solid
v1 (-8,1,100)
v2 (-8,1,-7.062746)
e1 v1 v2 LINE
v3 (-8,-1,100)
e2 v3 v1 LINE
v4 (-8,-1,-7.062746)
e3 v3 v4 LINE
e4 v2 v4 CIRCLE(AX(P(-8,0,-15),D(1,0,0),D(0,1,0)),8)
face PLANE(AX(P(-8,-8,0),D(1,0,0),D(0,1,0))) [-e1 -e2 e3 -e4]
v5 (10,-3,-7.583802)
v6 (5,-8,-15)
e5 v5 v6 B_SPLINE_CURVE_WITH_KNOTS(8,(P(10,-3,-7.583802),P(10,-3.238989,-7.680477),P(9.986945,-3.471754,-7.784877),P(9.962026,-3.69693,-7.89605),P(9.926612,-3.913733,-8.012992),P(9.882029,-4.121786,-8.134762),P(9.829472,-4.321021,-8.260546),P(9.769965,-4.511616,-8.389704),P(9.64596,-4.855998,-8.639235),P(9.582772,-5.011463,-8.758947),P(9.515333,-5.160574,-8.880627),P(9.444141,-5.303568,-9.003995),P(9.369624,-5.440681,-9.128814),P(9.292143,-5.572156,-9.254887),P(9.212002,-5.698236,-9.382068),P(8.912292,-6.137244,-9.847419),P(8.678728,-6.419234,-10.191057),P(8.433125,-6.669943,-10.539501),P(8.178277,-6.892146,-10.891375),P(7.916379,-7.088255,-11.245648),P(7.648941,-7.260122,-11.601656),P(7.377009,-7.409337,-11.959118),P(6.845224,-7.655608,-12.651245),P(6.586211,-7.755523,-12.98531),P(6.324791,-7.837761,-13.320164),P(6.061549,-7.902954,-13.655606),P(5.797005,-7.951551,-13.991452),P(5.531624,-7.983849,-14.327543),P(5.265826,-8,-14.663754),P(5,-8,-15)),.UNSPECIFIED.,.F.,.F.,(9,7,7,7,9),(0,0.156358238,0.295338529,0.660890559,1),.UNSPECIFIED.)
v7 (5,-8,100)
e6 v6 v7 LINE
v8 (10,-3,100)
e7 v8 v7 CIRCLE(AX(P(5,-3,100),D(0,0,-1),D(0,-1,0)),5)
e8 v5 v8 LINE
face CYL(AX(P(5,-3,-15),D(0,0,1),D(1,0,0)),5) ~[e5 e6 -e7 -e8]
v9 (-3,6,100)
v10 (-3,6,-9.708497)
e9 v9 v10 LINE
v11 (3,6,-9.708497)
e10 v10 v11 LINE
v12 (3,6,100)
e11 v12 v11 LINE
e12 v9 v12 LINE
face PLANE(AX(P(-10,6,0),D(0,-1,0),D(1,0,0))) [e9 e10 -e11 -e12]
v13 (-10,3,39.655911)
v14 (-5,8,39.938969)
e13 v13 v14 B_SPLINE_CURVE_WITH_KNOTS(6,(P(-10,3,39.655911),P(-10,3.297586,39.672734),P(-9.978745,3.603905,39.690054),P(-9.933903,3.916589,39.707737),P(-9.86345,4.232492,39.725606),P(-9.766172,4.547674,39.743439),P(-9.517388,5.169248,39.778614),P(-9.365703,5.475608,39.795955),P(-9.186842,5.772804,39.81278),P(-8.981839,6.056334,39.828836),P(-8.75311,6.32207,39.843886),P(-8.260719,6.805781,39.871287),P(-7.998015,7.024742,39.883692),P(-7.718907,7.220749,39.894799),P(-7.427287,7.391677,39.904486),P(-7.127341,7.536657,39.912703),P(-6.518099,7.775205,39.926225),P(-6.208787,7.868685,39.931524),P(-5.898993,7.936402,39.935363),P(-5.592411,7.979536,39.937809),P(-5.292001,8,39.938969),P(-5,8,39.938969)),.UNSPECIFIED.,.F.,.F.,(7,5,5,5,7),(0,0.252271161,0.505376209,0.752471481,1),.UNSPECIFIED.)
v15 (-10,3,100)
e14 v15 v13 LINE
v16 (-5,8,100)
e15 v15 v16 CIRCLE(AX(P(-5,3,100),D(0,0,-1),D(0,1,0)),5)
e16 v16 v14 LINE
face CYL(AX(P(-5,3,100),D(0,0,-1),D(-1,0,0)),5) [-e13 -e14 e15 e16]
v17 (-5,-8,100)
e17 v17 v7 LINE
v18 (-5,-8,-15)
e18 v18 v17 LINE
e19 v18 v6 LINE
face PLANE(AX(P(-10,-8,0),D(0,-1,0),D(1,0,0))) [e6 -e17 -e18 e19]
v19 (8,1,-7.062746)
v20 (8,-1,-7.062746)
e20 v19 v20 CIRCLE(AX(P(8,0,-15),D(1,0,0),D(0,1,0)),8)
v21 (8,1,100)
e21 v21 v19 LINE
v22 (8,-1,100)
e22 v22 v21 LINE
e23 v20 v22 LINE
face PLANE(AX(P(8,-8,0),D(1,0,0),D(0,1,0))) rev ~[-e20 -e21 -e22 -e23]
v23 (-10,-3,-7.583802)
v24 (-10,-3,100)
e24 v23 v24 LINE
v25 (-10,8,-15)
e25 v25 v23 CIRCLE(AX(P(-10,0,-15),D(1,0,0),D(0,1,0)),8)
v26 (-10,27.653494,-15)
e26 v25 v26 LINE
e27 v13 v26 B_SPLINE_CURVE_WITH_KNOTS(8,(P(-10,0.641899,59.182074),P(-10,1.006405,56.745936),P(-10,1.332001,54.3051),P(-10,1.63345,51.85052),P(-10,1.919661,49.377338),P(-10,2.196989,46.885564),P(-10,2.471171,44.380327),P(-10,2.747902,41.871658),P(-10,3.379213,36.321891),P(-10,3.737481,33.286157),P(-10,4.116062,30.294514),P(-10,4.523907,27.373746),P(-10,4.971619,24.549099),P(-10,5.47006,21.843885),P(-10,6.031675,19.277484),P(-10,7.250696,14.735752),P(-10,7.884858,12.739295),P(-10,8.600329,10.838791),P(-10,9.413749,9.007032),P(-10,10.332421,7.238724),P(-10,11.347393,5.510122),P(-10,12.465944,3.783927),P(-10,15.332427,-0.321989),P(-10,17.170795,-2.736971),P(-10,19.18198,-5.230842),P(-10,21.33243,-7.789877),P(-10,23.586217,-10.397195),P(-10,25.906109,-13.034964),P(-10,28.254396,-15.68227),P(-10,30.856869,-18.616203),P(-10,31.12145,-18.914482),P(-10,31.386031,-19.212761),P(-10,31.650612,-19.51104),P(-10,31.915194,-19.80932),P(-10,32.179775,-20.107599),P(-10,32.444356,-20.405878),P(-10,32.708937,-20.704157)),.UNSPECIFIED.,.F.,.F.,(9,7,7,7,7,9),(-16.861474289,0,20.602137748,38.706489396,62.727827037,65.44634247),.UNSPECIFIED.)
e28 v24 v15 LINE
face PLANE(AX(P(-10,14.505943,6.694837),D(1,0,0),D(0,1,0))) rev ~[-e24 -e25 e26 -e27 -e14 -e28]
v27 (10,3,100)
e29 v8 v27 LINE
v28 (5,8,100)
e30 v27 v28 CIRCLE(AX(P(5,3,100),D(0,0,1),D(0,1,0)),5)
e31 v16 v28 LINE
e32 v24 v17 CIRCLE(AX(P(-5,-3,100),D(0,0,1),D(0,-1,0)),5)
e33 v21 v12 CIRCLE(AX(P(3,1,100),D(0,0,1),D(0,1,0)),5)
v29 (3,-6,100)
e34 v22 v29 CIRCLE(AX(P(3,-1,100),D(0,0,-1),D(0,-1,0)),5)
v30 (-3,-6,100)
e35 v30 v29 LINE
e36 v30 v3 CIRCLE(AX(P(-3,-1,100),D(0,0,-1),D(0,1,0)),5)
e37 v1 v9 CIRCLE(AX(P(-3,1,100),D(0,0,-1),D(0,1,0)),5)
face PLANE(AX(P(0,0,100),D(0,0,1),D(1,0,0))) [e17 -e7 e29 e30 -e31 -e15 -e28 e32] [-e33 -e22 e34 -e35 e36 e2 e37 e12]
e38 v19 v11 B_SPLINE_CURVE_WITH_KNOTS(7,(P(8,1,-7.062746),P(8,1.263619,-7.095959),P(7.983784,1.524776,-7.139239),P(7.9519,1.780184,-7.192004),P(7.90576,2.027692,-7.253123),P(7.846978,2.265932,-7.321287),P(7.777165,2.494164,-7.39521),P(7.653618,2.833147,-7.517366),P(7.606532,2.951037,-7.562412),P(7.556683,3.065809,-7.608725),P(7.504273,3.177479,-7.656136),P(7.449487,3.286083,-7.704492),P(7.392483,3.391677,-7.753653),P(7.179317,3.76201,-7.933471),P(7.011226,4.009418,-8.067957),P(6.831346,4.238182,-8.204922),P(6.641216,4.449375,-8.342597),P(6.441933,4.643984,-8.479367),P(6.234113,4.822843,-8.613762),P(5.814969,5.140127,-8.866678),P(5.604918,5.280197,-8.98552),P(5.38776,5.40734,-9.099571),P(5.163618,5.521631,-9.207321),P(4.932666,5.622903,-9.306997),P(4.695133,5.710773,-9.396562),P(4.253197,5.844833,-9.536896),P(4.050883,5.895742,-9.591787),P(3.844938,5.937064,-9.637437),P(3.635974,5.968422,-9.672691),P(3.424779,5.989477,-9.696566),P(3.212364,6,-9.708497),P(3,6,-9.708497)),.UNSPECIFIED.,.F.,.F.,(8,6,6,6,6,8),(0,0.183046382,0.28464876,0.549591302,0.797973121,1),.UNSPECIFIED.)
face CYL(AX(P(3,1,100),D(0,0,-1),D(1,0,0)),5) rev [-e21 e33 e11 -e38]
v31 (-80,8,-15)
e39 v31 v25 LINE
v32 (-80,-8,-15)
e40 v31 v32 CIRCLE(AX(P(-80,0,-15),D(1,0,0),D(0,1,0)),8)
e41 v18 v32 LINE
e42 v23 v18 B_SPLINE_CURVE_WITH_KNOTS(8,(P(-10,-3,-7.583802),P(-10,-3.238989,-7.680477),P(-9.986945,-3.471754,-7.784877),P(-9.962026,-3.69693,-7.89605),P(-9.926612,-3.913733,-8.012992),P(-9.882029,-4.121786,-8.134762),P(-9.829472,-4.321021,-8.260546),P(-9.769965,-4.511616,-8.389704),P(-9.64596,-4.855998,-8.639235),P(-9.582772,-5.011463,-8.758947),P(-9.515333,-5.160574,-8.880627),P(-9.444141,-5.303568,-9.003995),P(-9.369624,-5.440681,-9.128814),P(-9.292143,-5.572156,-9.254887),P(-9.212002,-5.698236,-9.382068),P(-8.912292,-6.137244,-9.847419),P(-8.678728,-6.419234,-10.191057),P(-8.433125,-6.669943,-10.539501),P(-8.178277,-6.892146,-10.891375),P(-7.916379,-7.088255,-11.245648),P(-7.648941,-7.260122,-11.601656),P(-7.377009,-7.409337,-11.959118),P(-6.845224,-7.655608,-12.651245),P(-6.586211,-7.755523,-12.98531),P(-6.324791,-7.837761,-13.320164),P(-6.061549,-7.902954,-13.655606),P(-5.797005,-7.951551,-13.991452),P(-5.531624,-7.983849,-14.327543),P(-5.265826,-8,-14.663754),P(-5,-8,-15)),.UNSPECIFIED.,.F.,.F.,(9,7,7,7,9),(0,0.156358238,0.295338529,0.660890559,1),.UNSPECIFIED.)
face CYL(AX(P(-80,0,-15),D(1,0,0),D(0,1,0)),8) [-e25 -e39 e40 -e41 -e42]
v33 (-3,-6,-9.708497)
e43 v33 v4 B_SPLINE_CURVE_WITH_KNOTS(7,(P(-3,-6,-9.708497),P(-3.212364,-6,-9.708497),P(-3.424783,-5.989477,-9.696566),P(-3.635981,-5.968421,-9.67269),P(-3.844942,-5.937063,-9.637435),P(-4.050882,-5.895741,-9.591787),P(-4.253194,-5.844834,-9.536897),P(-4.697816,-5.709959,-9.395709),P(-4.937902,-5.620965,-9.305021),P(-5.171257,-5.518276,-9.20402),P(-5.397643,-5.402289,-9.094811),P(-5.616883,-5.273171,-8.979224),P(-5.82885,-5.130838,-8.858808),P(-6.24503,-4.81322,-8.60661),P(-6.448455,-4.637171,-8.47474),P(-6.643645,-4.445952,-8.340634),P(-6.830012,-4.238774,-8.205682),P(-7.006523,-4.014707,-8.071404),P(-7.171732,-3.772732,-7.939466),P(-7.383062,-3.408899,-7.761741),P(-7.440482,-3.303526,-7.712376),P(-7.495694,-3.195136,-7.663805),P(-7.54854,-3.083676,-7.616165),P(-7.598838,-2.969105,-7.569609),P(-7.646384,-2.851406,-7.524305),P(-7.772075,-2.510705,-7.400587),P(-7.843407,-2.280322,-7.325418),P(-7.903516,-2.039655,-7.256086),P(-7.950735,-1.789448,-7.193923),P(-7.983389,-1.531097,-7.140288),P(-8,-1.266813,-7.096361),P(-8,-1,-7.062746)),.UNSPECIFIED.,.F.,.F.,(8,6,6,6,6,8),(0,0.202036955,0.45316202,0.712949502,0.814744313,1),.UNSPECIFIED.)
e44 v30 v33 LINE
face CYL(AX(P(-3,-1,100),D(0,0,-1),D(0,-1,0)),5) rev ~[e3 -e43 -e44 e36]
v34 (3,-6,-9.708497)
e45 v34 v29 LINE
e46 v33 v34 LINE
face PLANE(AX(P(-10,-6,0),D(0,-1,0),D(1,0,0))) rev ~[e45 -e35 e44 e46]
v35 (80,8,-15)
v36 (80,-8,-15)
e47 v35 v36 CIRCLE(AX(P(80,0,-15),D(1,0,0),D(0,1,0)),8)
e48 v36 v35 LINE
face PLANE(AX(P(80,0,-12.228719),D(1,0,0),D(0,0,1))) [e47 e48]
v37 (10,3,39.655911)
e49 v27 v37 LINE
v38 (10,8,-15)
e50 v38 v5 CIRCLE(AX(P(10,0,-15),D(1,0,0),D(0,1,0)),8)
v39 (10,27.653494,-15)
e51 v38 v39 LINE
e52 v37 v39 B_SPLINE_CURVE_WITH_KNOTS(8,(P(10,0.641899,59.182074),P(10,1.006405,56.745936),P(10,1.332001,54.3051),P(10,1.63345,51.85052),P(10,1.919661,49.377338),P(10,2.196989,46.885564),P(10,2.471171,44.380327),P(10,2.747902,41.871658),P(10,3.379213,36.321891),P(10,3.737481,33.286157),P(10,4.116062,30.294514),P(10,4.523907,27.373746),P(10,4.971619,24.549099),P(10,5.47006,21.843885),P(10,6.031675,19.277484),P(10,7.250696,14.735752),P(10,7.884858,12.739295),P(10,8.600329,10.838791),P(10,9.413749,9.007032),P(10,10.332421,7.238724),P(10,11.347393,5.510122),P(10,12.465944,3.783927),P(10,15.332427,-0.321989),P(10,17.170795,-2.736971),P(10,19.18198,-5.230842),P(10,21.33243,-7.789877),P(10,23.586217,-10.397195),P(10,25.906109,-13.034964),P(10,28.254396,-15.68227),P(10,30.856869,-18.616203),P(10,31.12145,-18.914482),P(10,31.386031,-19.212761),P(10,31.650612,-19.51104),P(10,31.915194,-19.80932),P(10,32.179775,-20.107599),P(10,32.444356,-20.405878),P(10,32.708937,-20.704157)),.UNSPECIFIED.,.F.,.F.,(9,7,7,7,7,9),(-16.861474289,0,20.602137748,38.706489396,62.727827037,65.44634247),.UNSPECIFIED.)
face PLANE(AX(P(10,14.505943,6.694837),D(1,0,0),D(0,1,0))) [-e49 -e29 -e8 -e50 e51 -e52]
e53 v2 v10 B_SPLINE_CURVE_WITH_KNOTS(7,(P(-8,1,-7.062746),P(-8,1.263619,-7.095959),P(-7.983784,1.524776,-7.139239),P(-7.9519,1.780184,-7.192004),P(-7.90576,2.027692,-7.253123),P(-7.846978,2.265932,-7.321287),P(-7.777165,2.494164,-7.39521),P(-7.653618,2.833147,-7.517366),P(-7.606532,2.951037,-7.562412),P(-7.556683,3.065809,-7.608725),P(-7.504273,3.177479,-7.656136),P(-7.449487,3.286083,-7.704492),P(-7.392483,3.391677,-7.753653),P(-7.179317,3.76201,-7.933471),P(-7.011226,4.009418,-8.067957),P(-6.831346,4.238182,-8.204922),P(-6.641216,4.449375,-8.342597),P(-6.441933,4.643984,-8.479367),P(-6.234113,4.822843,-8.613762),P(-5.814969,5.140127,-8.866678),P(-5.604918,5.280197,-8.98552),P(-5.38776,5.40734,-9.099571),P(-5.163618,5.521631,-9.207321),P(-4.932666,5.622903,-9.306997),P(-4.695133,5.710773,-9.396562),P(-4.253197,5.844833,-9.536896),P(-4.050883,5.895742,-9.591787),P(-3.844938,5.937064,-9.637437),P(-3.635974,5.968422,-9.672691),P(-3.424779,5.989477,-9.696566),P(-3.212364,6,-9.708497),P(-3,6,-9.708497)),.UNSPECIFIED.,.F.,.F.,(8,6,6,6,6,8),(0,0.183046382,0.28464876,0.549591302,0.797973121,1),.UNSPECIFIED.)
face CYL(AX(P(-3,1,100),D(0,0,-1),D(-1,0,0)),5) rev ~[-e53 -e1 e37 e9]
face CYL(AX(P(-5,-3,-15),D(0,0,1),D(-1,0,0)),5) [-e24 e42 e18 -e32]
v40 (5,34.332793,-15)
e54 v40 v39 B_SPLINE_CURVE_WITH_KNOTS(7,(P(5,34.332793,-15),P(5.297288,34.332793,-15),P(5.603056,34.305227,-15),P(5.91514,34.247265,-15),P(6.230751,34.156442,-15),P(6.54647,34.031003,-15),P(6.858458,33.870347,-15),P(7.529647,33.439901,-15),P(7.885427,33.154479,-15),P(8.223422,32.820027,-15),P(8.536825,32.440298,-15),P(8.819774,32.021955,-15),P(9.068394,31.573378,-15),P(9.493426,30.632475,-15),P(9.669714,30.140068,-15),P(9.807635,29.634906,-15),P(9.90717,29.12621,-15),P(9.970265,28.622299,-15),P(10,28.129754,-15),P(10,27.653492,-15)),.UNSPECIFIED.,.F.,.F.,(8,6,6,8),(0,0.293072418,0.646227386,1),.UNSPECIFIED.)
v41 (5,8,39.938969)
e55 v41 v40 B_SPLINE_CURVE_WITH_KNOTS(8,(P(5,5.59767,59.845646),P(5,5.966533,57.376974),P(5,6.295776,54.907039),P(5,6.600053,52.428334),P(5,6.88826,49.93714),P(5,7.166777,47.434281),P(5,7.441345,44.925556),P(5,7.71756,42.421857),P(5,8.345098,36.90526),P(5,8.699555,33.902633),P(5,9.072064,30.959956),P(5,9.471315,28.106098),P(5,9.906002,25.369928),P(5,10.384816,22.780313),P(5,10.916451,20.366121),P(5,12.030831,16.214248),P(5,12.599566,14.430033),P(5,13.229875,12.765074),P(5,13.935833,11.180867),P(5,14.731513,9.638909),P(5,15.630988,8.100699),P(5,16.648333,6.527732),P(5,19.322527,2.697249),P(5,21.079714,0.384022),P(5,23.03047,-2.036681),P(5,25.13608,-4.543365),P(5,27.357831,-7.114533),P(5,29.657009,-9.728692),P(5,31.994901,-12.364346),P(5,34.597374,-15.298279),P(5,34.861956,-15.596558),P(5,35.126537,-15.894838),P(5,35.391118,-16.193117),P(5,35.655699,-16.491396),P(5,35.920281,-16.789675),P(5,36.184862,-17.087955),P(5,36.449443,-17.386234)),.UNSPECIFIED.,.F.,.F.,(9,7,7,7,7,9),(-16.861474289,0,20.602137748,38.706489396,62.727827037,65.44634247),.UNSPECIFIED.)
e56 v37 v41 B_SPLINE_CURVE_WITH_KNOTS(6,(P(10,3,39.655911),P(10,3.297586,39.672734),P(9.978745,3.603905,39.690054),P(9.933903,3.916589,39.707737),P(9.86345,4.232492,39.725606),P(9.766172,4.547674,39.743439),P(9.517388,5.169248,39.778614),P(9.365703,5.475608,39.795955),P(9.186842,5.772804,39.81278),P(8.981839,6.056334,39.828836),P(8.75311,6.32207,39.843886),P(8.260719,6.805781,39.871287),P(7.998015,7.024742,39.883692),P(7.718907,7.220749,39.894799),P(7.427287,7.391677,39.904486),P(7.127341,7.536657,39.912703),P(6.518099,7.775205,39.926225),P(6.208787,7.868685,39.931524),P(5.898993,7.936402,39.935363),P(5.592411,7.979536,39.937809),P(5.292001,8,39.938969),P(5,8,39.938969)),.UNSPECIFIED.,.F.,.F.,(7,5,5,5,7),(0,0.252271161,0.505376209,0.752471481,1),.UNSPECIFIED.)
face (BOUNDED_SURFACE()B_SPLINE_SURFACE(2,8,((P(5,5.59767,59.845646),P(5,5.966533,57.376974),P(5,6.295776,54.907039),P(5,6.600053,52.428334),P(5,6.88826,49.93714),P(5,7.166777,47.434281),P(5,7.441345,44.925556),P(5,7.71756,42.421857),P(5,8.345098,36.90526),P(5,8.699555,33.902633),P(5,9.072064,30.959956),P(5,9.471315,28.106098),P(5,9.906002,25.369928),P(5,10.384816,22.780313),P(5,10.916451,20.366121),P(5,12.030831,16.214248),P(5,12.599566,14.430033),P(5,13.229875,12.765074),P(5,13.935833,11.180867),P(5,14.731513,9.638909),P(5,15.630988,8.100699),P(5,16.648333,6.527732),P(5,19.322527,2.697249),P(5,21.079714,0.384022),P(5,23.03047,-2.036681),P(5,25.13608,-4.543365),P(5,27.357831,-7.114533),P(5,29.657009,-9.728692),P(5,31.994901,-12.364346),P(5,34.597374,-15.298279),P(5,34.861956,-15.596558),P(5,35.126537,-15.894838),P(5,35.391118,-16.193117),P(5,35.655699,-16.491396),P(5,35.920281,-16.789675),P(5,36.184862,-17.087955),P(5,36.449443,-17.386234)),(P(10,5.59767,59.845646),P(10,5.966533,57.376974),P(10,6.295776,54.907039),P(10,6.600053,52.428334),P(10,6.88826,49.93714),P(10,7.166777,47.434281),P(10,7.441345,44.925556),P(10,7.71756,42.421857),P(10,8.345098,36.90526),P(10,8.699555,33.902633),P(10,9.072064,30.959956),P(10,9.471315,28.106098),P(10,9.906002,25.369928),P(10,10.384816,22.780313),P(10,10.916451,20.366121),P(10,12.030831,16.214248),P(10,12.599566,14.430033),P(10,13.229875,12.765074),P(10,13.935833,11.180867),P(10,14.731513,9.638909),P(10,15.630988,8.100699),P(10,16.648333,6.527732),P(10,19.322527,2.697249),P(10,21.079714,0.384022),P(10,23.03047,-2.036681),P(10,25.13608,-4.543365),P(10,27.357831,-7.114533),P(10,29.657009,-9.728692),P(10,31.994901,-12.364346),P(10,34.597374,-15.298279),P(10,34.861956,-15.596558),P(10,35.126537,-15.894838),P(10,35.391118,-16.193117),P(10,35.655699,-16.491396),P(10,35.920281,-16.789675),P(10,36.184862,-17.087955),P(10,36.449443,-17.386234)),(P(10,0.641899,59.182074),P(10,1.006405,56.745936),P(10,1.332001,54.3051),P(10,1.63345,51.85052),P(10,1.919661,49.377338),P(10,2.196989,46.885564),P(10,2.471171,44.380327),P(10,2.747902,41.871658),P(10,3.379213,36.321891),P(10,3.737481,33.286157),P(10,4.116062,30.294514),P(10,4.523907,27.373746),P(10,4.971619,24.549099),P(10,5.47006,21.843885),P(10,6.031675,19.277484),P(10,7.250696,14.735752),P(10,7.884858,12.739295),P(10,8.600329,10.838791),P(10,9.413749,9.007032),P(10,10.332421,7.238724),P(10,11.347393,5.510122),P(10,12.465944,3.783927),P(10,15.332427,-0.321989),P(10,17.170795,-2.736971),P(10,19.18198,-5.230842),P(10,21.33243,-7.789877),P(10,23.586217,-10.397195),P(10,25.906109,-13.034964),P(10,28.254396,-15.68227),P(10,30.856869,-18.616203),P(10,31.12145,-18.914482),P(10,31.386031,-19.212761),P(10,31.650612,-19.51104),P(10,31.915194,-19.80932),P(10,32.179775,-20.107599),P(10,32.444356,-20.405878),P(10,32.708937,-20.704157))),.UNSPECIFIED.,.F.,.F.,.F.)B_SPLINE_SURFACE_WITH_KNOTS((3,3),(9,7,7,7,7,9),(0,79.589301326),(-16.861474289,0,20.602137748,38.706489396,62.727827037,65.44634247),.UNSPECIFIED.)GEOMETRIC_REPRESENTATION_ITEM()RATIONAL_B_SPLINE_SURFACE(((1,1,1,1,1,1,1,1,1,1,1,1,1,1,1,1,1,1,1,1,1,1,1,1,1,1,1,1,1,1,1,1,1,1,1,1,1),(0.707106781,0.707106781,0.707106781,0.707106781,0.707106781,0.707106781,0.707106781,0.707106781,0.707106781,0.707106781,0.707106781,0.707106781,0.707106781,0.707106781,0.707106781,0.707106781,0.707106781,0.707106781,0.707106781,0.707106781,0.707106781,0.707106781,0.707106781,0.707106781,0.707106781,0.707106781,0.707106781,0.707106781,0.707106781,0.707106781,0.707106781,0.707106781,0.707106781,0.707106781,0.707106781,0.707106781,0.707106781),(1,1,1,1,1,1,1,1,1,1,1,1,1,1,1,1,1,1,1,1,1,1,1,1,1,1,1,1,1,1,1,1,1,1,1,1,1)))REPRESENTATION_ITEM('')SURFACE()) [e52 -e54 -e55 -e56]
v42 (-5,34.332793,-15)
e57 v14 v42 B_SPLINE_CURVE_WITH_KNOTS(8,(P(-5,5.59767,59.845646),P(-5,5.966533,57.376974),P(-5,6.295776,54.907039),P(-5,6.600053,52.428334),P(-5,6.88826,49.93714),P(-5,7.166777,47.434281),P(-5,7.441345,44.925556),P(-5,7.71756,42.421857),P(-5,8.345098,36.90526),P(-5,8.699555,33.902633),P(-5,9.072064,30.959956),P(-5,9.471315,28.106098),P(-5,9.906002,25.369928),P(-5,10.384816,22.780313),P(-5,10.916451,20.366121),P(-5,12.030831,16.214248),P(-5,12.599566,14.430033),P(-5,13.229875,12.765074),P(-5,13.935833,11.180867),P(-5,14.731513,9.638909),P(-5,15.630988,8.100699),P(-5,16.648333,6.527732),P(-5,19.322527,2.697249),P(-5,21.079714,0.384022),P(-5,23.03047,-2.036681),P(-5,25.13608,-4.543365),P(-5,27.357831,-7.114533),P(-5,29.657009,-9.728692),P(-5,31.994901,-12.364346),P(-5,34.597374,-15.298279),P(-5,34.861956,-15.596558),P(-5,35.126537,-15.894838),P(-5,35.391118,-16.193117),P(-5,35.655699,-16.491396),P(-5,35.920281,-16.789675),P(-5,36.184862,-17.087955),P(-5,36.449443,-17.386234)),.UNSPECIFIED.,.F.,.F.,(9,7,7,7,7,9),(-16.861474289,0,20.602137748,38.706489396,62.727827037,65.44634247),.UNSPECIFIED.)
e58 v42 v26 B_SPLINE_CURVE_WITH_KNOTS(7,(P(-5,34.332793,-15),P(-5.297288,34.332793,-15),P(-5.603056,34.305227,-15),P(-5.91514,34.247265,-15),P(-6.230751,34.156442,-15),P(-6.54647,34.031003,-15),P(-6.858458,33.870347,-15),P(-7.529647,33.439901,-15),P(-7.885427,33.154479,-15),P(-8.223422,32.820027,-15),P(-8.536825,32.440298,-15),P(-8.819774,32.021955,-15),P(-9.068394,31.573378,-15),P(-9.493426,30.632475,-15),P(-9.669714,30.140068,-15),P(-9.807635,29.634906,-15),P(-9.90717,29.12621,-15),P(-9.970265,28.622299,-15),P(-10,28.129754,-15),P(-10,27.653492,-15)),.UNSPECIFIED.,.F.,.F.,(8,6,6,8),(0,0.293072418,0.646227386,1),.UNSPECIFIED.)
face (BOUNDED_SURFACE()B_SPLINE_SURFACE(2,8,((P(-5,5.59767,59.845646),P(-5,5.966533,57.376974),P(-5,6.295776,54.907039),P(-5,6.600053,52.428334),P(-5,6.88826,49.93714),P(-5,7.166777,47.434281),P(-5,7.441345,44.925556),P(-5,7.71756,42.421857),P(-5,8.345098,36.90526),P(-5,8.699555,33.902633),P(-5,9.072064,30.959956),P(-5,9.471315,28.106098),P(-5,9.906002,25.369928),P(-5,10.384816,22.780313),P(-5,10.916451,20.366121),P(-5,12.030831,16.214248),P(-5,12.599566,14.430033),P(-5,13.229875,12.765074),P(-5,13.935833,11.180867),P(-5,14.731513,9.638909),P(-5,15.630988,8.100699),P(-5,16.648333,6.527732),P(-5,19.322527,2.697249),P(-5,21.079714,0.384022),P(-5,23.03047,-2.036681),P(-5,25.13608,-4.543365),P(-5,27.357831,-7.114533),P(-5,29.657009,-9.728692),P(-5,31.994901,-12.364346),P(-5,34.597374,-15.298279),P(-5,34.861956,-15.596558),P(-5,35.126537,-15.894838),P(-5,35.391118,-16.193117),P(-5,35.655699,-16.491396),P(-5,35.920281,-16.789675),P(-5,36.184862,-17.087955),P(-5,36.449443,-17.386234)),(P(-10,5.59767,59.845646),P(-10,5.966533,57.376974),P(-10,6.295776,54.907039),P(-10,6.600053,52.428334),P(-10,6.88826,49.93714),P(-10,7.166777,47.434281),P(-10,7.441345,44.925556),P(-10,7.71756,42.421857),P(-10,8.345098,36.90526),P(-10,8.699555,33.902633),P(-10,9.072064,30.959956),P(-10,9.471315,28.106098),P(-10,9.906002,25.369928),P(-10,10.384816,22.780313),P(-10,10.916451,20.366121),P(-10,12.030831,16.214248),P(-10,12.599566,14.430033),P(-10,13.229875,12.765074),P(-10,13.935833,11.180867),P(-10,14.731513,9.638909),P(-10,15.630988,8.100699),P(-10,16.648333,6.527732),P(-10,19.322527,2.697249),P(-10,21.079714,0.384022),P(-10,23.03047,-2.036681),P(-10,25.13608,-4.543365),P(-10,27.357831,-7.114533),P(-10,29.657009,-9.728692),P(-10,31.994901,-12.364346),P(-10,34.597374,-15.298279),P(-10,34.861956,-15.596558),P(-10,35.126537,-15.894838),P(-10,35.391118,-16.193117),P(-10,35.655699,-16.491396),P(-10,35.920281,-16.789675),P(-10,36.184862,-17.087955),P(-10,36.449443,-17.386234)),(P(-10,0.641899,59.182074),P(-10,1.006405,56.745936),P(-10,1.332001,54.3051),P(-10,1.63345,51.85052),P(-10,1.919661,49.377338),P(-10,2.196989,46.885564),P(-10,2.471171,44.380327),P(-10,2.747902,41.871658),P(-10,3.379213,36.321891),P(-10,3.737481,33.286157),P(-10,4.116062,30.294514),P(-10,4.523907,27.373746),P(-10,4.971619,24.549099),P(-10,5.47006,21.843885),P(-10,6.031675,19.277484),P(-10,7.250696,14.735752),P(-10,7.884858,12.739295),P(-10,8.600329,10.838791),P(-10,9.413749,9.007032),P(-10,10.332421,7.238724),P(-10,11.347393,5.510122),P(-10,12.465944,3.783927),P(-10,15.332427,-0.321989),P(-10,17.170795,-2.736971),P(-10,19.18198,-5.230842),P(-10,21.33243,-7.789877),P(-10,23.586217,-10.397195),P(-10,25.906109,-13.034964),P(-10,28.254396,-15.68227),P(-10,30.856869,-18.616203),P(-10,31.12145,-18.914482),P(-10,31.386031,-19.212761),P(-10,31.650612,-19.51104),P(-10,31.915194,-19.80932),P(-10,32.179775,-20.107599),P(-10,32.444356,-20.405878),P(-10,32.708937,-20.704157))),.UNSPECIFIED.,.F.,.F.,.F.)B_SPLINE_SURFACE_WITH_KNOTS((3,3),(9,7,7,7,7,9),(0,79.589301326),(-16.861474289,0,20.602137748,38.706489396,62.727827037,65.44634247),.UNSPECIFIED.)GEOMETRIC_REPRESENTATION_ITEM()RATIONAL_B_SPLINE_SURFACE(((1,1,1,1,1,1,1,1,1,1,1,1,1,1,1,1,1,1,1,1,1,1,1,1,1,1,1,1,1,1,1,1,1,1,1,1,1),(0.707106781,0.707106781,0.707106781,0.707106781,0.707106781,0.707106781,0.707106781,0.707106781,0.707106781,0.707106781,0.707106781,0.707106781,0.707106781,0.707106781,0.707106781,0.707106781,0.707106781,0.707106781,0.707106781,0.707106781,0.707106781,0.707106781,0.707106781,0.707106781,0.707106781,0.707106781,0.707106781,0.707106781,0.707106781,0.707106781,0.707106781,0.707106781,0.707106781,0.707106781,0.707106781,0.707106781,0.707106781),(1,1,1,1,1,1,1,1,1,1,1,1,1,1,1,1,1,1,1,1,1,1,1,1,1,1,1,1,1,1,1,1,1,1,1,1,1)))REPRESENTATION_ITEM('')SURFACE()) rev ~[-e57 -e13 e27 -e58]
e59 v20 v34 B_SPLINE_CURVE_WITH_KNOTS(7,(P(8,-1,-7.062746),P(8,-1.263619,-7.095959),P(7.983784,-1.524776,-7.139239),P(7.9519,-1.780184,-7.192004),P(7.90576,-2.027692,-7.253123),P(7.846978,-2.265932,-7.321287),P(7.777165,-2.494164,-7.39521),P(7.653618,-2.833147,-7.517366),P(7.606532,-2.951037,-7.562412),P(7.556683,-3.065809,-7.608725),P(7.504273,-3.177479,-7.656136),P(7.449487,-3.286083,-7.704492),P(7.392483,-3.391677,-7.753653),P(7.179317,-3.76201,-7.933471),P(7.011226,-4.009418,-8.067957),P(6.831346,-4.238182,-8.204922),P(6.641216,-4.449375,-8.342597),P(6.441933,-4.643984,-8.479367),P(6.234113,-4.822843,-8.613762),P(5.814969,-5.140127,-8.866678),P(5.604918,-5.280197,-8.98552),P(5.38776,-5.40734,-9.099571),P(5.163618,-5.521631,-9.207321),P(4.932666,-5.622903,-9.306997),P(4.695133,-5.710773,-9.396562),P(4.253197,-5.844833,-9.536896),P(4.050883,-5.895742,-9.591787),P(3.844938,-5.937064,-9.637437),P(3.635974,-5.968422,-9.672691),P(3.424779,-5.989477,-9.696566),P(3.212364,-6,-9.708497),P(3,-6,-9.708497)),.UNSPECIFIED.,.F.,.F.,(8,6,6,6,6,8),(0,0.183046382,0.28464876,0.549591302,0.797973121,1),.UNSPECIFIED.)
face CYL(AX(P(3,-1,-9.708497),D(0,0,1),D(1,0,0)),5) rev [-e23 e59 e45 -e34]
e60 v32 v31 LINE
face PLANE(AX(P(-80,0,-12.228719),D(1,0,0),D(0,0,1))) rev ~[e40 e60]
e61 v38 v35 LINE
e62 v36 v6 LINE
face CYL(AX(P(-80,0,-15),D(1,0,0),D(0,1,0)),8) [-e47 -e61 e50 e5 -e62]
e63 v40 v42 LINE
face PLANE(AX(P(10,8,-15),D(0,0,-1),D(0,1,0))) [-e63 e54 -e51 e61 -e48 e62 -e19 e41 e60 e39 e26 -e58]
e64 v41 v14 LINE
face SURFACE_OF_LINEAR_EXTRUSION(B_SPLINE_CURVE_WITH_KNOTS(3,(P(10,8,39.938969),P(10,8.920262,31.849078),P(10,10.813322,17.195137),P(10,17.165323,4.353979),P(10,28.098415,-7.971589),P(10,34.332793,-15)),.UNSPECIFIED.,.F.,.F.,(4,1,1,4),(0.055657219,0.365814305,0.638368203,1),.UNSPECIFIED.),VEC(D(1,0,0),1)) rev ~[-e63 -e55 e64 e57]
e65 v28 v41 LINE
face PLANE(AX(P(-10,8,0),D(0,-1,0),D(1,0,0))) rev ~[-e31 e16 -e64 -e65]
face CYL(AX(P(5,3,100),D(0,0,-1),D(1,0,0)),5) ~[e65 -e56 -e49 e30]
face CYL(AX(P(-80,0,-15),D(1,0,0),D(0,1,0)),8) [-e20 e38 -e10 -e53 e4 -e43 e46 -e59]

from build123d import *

# Parameters (mm, degrees)
F0_W          = 20
F0_H          = 16
F1_DEPTH      = 100
F1_DEPTH_BACK = 15
F2_T          = -2
F3_R          = 6.65
F4_DEPTH      = 25
F9_DEPTH      = 20
F10_R         = 5


with BuildPart() as f1:
    # F0 (on Top) → F1 (new body, two sides)
    with BuildSketch(Plane.XY) as f1_sk:
        Rectangle(F0_W, F0_H)
    extrude(amount=F1_DEPTH)
    extrude(f1_sk.sketch, amount=-F1_DEPTH_BACK)

    # F2
    f2_openings = [f1.faces().sort_by_distance(p)[0] for p in [
        (0, 0, 100),
    ]]
    offset(amount=F2_T, openings=f2_openings)

    # F3 (on Top) → F4 (cut)
    with BuildSketch(Plane.XY):
        with Locations((-23, 31)):
            Circle(F3_R)
    extrude(amount=F4_DEPTH, mode=Mode.SUBTRACT)

    # F7: sweep along a path in F6
    with BuildLine(Plane(origin=(0, 0, -15), x_dir=(1, 0, 0), z_dir=(0, 0, -1))) as f7_path:
        Line((-80, 0), (80, 0))
    # F5 (on face) → F7 (sweep)
    with BuildSketch(Plane.YZ.offset(10)):
        with BuildLine():
            Line((-8, -15), (8, -15))
            ThreePointArc((8, -15), (0, -7), (-8, -15))
        make_face()
    sweep(path=f7_path.line)

    # F8 (on face) → F9 (join)
    with BuildSketch(Plane.YZ.offset(10)):
        with BuildLine():
            Line((8, 39.9389689904), (8, -15))
            Line((8, -15), (34.332793206, -15))
            add(Edge.make_bspline(
                [(8, 39.9389689904), (8.920262118, 31.8490776814), (10.8133224807, 17.1951366341), (17.1653233274, 4.3539788499), (28.0984148898, -7.9715894697), (34.332793206, -15)],
                knots=[0.0556572186, 0.0556572186, 0.0556572186, 0.0556572186, 0.3658143049, 0.6383682032, 1, 1, 1, 1], degree=3))
        make_face()
    extrude(amount=-F9_DEPTH)

    # F10
    f10_edges = [f1.edges().sort_by_distance(p)[0] for p in [
        (-8, -6, 45.145751),
        (8, -6, 45.145751),
        (10, -8, 42.5),
        (-10, -8, 42.5),
        (8, 6, 45.145751),
        (-8, 6, 45.145751),
        (10, 8, 69.969484),
        (-10, 8, 69.969484),
        (10, 14.887336, 9.5352),
        (-10, 14.887336, 9.5352),
    ]]
    fillet(f10_edges, radius=F10_R)


solid = f1.part
